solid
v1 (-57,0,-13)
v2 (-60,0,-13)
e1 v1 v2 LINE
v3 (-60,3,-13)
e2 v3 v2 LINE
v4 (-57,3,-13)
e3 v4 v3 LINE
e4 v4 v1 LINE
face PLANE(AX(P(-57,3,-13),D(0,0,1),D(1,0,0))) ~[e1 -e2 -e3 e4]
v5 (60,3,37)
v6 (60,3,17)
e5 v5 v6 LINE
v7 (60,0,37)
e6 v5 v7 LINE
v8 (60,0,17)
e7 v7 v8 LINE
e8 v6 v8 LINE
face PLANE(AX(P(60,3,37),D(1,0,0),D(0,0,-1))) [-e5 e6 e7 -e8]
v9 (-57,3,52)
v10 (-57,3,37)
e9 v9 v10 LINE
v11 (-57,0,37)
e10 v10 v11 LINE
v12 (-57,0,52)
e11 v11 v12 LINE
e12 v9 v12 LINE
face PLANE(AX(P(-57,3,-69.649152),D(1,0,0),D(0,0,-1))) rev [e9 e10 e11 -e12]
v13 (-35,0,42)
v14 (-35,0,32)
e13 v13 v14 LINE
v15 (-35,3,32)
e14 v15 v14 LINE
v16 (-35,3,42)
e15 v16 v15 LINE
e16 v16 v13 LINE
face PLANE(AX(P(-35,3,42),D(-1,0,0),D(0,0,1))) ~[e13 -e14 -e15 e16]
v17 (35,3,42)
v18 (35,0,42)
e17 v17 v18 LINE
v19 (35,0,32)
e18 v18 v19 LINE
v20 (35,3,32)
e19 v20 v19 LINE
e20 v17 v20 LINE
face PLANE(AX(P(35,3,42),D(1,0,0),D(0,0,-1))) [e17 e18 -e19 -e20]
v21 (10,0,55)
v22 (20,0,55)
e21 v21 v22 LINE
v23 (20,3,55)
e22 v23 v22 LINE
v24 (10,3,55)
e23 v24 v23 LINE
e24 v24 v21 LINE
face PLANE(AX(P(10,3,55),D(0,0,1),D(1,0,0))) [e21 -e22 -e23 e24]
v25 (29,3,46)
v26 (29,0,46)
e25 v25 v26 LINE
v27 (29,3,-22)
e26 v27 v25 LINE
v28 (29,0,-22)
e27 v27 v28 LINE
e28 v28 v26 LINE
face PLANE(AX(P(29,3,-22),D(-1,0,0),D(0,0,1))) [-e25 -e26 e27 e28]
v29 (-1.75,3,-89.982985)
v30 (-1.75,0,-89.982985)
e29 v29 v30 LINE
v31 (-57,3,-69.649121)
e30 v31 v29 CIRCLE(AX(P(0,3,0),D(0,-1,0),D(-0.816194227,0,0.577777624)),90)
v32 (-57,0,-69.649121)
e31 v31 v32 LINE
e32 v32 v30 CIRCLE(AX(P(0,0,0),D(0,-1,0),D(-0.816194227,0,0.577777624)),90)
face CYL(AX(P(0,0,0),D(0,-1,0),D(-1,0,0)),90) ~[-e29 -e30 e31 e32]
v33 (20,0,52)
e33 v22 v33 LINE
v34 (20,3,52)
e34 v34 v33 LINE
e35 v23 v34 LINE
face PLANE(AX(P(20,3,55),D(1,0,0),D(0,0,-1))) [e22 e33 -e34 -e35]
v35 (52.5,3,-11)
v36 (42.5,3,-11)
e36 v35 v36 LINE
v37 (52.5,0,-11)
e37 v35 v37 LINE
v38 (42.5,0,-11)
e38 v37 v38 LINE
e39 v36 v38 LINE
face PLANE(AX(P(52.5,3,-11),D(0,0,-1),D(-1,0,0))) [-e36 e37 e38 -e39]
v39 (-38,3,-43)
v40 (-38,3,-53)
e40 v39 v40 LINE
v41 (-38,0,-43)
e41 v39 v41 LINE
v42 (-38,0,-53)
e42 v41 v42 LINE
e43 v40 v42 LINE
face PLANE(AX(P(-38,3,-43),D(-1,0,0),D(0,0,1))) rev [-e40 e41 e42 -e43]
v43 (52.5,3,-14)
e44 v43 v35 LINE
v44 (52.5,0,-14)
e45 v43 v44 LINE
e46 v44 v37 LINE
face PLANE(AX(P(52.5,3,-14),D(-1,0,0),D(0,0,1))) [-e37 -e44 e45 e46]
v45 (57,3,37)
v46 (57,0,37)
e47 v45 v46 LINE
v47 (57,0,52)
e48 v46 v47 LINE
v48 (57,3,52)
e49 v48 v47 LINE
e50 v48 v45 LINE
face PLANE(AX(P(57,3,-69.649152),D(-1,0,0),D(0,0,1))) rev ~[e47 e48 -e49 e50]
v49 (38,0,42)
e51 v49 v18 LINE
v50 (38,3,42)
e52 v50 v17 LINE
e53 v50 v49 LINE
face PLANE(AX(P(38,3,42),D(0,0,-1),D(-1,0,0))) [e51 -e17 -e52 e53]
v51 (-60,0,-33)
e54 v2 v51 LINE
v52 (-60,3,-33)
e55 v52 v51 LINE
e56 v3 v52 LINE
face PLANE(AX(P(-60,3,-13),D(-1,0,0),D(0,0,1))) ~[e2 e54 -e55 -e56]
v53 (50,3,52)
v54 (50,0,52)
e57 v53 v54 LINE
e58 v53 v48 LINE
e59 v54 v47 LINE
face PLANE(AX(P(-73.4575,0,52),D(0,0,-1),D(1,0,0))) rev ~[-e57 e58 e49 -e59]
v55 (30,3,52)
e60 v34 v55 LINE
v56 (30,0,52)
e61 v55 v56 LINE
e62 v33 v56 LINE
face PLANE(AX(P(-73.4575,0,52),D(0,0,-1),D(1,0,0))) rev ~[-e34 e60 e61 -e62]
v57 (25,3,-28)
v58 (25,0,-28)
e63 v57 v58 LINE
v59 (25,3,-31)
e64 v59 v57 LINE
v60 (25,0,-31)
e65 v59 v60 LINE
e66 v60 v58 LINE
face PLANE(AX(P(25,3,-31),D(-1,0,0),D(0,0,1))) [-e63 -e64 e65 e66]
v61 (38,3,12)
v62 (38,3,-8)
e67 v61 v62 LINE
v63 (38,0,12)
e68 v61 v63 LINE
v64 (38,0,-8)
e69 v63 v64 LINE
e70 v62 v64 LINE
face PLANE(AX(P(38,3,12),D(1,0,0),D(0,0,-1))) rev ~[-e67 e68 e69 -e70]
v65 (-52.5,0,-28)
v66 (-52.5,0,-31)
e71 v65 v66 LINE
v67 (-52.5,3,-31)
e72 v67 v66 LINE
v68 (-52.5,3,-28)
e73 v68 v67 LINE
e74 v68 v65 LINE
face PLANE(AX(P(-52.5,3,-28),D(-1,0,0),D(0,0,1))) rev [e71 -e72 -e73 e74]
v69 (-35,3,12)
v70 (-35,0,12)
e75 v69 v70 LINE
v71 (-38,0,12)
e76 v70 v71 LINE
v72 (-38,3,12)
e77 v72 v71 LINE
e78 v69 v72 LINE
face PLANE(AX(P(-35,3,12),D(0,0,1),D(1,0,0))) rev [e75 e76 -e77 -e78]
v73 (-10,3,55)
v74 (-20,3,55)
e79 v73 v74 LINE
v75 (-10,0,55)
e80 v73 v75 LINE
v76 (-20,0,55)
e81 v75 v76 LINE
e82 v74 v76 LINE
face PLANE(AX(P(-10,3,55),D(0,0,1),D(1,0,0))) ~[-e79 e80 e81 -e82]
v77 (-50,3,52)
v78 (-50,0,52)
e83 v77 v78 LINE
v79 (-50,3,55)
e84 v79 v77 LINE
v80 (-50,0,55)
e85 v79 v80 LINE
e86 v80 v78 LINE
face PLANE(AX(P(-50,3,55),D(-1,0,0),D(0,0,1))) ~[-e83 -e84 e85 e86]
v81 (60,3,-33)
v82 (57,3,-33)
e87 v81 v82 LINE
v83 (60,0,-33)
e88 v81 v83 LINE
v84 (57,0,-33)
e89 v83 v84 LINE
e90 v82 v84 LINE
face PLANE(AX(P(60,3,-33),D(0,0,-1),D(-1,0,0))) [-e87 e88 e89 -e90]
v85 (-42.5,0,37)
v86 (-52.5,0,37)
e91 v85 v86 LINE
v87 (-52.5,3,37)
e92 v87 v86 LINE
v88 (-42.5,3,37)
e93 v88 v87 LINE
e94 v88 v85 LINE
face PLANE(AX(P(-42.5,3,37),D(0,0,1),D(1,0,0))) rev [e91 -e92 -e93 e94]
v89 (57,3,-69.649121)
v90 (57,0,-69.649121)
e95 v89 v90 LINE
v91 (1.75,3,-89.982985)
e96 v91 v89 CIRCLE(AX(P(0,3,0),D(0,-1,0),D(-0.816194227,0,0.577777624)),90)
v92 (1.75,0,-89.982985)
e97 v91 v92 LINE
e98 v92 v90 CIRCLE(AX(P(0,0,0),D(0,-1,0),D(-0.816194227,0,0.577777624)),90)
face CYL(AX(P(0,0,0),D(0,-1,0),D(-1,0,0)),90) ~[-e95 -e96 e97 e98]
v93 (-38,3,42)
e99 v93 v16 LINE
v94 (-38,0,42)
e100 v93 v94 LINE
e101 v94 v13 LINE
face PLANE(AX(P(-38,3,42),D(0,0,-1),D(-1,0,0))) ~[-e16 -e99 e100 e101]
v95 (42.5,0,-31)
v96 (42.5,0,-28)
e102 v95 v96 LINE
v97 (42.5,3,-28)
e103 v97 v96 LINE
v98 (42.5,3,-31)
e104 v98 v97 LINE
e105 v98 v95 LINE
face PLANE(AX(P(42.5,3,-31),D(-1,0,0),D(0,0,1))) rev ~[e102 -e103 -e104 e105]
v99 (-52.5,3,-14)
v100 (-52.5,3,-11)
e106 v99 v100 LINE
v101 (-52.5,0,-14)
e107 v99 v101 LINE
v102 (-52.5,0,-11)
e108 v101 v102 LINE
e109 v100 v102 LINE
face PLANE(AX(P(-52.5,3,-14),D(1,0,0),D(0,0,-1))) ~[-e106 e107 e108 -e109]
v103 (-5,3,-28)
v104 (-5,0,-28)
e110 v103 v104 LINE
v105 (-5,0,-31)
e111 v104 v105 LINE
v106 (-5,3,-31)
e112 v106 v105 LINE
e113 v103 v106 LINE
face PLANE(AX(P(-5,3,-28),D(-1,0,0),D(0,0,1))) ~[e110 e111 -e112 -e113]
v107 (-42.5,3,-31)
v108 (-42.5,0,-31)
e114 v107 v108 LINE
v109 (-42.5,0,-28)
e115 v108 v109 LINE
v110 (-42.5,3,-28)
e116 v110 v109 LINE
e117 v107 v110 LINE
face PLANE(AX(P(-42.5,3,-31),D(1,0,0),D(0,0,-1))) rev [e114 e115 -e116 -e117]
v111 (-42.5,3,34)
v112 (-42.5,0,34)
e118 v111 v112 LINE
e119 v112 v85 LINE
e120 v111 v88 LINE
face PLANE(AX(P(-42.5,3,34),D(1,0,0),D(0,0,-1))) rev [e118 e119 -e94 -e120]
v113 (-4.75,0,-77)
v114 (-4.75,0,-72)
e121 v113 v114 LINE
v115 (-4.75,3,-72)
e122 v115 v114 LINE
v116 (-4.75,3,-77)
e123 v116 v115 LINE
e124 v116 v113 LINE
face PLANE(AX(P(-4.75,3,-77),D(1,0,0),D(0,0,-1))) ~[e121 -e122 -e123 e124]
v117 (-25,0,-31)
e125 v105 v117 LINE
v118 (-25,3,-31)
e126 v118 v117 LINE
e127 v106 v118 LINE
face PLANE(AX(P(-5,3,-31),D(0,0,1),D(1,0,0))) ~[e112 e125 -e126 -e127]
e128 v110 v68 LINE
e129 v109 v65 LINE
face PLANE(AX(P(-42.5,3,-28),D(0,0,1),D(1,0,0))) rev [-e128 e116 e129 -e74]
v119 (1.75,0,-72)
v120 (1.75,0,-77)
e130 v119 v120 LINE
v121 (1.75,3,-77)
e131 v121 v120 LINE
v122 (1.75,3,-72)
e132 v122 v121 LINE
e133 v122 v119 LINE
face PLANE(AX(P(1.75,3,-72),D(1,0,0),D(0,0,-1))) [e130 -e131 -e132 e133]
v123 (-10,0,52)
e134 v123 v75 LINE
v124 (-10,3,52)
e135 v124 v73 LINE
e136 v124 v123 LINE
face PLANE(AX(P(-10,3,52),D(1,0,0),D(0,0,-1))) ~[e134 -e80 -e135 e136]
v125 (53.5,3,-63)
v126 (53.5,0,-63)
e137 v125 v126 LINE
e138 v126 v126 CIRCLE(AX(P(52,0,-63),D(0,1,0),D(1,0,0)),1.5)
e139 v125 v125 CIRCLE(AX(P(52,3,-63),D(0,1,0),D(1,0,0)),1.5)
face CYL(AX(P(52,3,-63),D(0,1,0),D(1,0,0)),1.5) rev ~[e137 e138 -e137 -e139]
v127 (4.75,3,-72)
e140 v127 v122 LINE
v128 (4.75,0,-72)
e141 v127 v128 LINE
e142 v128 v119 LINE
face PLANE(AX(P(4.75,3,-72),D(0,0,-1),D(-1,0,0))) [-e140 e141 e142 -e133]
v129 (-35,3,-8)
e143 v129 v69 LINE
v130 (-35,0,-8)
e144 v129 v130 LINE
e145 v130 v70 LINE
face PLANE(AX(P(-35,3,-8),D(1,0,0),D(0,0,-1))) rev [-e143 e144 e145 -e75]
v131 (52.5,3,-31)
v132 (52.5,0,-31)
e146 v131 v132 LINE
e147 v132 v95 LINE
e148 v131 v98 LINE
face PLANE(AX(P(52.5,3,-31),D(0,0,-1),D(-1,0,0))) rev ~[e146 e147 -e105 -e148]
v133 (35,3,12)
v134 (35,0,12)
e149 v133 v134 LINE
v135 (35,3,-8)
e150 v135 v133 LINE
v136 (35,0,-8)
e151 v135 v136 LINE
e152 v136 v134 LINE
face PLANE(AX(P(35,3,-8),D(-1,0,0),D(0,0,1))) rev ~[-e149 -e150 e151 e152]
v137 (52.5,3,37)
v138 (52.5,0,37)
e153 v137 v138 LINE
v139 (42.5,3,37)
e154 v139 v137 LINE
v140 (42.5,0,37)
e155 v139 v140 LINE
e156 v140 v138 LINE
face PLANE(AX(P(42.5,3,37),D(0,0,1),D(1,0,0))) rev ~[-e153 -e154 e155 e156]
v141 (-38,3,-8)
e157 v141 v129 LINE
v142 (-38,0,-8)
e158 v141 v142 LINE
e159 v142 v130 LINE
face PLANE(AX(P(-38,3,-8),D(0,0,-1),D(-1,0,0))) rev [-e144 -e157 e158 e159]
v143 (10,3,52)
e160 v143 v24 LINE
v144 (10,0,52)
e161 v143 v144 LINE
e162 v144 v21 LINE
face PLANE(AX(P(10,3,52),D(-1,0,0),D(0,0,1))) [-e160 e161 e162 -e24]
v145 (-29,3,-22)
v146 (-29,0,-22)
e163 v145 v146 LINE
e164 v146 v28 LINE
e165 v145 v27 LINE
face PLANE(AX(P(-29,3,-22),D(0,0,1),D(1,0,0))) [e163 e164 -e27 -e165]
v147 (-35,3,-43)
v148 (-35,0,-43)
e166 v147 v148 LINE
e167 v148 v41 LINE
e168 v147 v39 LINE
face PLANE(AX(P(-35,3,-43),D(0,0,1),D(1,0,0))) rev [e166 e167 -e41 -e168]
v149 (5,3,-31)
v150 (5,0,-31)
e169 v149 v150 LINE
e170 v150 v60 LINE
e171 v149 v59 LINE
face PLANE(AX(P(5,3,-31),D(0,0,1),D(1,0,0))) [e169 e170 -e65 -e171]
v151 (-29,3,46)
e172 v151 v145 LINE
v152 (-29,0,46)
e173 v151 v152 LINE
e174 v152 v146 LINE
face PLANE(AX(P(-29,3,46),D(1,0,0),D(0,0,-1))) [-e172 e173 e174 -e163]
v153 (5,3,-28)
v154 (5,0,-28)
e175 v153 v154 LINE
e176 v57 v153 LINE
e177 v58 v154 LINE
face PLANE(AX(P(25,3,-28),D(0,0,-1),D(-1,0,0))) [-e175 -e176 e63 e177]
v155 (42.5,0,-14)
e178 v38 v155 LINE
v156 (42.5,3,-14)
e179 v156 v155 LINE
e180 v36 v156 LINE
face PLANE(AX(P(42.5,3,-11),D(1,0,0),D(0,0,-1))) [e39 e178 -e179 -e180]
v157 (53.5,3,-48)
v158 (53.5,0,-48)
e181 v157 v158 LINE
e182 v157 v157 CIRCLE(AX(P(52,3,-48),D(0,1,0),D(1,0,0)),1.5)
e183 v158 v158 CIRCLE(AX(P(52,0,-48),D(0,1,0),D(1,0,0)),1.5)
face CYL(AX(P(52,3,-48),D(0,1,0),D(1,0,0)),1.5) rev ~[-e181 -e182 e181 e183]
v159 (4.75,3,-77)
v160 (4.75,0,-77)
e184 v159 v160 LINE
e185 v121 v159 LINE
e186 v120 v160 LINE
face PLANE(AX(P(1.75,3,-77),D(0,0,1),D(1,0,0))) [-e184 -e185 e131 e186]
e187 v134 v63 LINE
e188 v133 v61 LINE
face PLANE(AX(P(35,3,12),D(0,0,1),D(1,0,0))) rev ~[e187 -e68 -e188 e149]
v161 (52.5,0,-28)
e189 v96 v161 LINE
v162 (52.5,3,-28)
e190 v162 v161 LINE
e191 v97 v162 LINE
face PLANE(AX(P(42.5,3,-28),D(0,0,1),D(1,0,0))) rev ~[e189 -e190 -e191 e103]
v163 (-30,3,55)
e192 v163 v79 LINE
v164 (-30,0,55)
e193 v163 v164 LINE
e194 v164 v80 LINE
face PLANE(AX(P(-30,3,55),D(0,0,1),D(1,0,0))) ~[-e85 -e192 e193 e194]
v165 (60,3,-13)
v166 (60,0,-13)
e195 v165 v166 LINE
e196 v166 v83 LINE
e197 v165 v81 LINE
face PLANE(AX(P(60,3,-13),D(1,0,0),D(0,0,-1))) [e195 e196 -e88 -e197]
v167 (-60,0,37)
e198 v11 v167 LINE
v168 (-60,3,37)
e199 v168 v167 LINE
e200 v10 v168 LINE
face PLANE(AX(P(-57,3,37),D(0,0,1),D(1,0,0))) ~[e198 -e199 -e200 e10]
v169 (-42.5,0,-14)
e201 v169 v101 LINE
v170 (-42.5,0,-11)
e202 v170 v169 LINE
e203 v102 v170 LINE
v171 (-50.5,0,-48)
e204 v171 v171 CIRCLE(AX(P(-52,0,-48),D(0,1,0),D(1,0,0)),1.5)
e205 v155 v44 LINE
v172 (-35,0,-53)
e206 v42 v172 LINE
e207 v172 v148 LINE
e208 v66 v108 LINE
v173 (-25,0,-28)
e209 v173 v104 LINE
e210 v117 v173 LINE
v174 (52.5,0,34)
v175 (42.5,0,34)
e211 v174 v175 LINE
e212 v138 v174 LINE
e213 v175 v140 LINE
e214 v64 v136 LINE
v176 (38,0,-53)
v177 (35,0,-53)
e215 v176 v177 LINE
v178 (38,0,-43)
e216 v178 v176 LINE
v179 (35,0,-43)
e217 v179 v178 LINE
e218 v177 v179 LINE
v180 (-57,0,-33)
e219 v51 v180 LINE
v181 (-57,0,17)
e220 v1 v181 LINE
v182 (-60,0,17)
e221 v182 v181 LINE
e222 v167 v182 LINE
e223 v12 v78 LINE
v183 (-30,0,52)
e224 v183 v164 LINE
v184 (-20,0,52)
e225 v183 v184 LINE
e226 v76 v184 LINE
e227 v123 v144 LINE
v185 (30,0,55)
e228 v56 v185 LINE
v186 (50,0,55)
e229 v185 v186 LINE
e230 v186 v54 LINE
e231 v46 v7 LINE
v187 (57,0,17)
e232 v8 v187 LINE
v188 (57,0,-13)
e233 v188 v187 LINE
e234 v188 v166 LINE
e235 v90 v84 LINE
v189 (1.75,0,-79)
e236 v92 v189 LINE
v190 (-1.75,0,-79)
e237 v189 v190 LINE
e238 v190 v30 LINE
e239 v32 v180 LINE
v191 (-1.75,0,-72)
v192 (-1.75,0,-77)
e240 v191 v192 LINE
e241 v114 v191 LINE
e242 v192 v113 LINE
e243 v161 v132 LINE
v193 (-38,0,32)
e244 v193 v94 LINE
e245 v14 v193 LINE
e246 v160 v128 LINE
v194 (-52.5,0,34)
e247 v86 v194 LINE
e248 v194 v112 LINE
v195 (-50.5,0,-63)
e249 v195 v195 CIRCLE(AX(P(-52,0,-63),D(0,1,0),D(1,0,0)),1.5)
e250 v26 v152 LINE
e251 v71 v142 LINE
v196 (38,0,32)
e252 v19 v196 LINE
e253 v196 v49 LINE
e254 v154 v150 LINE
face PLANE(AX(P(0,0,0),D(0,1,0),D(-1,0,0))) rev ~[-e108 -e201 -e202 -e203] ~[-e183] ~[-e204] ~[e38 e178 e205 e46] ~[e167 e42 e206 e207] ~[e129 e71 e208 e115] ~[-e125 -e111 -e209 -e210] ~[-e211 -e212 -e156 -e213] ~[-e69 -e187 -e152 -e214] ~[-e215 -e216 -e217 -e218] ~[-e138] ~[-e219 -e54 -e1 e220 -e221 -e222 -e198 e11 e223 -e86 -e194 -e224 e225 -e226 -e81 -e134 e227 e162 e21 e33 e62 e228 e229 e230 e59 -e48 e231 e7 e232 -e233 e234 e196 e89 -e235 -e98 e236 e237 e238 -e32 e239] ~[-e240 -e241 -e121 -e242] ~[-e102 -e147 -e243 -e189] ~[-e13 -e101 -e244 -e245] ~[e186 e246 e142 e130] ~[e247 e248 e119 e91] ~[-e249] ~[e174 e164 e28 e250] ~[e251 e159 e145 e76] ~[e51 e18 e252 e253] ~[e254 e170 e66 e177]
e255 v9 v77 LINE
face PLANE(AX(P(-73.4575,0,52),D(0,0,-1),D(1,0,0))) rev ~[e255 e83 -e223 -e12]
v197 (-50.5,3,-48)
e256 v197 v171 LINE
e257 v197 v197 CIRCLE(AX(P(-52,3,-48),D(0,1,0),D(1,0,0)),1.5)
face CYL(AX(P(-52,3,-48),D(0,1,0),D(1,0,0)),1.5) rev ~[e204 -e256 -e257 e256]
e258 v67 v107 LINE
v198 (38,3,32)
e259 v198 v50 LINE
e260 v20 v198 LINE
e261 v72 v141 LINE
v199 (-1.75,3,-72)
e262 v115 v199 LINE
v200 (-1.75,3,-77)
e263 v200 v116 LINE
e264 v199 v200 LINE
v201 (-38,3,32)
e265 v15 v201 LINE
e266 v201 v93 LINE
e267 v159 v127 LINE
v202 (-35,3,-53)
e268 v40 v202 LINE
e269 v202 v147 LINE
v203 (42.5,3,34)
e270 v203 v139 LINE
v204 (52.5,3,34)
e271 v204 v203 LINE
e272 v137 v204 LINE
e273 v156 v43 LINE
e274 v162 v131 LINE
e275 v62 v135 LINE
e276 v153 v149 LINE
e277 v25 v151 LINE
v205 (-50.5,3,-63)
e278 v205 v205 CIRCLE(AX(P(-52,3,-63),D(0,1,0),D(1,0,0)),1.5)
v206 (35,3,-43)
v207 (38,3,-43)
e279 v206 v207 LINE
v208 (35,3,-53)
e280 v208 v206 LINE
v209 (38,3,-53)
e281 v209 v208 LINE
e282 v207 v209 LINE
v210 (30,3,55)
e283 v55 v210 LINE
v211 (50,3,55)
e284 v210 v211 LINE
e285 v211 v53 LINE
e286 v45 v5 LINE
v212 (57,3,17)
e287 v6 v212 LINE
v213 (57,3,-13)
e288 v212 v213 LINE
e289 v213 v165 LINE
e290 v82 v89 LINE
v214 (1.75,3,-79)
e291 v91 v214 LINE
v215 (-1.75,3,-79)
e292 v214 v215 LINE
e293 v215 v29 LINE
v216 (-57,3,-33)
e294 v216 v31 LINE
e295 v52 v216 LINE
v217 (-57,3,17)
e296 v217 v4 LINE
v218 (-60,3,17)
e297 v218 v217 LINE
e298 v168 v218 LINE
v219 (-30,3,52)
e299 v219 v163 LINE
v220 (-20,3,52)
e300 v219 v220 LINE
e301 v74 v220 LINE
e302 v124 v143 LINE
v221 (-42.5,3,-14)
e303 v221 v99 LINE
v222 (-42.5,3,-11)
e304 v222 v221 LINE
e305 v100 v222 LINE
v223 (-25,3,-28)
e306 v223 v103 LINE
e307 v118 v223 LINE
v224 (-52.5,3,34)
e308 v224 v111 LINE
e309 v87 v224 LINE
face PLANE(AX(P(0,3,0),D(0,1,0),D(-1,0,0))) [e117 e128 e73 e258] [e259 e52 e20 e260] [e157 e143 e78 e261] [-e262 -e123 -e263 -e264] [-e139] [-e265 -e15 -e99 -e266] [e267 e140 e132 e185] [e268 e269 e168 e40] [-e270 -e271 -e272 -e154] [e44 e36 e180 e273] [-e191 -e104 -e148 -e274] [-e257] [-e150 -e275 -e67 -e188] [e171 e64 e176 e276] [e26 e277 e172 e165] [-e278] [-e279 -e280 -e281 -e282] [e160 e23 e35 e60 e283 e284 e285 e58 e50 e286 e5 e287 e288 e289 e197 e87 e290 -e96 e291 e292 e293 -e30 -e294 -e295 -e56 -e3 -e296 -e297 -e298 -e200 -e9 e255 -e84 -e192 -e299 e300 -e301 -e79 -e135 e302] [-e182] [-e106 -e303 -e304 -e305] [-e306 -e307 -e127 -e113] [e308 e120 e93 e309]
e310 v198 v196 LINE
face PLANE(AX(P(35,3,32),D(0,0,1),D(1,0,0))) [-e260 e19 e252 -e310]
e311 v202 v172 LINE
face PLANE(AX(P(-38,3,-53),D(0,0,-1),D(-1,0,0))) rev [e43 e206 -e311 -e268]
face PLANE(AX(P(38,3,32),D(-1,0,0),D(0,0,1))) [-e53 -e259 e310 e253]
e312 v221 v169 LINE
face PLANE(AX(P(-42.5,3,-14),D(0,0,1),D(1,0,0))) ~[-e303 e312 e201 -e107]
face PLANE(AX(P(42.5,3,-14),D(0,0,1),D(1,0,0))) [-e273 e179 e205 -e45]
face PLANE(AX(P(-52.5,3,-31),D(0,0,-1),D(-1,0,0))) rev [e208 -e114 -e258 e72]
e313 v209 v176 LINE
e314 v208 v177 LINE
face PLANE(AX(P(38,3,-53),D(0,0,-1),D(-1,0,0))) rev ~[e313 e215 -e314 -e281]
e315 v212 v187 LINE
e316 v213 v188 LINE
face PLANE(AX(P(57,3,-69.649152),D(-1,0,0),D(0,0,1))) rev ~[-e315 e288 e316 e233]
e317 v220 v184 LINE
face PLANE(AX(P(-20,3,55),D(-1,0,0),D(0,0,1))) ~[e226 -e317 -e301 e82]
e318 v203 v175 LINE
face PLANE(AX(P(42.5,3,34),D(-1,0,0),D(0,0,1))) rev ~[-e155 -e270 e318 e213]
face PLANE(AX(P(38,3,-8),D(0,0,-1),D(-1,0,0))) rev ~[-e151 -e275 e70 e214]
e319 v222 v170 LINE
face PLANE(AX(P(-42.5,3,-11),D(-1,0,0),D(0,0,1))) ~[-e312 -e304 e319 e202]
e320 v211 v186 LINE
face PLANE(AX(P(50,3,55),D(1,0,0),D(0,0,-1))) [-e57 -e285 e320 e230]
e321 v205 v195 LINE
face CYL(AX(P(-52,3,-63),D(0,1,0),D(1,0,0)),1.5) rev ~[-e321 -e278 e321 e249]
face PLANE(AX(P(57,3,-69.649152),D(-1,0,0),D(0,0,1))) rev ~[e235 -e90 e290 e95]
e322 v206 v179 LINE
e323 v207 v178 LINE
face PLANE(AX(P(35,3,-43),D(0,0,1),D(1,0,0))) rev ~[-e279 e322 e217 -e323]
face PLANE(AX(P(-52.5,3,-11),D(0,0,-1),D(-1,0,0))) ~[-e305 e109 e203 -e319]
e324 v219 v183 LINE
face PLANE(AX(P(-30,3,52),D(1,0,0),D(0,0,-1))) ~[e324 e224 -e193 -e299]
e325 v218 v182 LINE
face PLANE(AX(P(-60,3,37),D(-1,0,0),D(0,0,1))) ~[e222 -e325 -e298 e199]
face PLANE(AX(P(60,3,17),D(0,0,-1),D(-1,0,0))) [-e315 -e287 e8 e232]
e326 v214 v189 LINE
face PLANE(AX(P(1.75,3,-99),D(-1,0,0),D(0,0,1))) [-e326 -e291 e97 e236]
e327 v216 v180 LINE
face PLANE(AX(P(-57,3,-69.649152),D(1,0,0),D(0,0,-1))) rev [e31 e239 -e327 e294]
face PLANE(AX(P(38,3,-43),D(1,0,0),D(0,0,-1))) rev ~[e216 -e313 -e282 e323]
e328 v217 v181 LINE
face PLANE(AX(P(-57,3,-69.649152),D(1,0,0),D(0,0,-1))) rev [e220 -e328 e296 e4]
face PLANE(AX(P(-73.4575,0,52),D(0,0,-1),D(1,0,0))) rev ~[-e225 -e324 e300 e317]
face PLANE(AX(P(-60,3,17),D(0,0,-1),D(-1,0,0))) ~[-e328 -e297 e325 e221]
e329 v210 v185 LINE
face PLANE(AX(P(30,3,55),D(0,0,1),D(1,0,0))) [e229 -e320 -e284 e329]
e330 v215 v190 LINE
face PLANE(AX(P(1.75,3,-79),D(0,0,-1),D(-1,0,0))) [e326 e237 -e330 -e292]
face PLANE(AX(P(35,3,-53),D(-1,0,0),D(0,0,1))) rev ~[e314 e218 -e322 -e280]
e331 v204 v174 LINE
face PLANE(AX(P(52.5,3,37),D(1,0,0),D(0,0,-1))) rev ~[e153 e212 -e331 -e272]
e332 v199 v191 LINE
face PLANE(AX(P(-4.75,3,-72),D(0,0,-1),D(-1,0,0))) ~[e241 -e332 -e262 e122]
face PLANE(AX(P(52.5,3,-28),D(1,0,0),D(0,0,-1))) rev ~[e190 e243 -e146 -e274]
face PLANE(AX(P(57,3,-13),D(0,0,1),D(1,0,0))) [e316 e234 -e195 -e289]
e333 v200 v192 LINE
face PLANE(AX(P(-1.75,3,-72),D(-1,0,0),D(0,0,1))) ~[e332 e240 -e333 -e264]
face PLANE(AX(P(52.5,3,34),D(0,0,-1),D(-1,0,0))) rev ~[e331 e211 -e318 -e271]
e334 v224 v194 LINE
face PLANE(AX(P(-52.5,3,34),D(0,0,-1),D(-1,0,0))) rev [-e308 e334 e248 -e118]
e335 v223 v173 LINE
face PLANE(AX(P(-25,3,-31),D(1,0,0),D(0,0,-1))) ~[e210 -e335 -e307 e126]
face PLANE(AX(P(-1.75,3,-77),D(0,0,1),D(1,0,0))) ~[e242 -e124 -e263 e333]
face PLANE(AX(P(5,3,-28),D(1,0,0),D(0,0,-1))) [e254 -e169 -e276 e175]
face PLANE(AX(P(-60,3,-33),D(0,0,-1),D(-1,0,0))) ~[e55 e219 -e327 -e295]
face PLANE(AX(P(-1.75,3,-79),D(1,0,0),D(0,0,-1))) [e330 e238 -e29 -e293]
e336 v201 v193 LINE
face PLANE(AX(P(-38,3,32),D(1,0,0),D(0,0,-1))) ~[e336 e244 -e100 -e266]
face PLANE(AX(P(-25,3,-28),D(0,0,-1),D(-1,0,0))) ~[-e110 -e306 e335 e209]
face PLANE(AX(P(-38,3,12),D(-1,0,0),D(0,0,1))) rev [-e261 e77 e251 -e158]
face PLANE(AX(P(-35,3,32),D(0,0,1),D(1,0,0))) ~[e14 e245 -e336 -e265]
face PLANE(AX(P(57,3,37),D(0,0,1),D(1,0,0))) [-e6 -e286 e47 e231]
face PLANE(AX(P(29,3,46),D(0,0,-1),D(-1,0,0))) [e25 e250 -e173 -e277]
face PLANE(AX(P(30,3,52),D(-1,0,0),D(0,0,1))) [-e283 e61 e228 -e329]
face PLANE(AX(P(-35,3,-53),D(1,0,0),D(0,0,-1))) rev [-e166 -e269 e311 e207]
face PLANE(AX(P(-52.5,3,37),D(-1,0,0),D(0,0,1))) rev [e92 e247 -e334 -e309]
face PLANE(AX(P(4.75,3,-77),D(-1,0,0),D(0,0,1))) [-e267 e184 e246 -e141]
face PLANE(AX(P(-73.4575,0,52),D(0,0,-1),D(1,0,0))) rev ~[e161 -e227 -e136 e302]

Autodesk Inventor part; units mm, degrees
ref_plane "YZ Plane" through (0, 0, 0) normal (1, 0, 0) x (0, 1, 0)
ref_plane "XZ Plane" through (0, 0, 0) normal (0, 1, 0) x (-1, 0, 0)
ref_plane "XY Plane" through (0, 0, 0) normal (0, 0, 1) x (1, 0, 0)
sketch "Sketch1" plane through (0, 0, 0) normal (0, 1, 0) x (-1, 0, 0)
  circle A0 centre (0, 0) radius 90
  line L0 (73.4575, 52) -> (-73.4575, 52)
  dimension "d0" = 180
  dimension "d1" = 52
extrude "Extrusion1" add sketch "Sketch1" along normal blind 3 contours A0 L0 picked at (17.1608, -0.9679)
sketch "Sketch2" plane through (0, 3, 0) normal (0, 1, 0) x (1, 0, 0)
  line L0 (-73.4575, -52) -> (73.4575, -52) projected
  line L1 (57, -52) -> (90, -52)
  line L2 (90, -52) -> (90, 90)
  line L3 (90, 90) -> (57, 90)
  line L4 (57, 90) -> (57, -52)
  arc A0 (73.4575, -52) -> (-73.4575, -52) centre (0, 0) ccw projected
  dimension "d4" = 57
extrude "Extrusion2" cut sketch "Sketch2" against normal blind 3 contours L4 A0 L0 | L4 L3 L2 A0 | A0 L2 L1 picked at (60.2055, 26.0552)
sketch "Sketch3" plane through (0, 3, 0) normal (0, 1, 0) x (1, 0, 0)
  line L0 (29, -46) -> (-29, -46)
  line L1 (-29, -46) -> (-29, 22)
  line L2 (-29, 22) -> (29, 22)
  line L3 (29, 22) -> (29, -46)
  line L4 (-73.4575, -52) -> (57, -52) projected
  point P0 (0, 0)
  dimension "d7" = 6
  dimension "d8" = 74
  dimension "d9" = 29
  dimension "d10" = 29
extrude "Extrusion3" cut sketch "Sketch3" against normal blind 3
mirror "Mirror1" about plane through (0, 0, 0) normal (1, 0, 0) of "Extrusion2"
sketch "Sketch4" plane through (0, 3, 0) normal (0, 1, 0) x (1, 0, 0)
  line L0 (57, 69.6491) -> (57, -52) projected
  line L1 (57, -37) -> (60, -37)
  line L2 (60, -37) -> (60, -17)
  line L3 (60, -17) -> (57, -17)
  line L4 (57, -17) -> (57, -37)
  line L5 (-57, -52) -> (57, -52) projected
  line L6 (57, 13) -> (60, 13)
  line L7 (60, 13) -> (60, 33)
  line L8 (60, 33) -> (57, 33)
  line L9 (57, 33) -> (57, 13)
  point P0 (0, 0)
  dimension "d13" = 3
  dimension "d14" = 20
  dimension "d15" = 15
  dimension "d16" = 3
  dimension "d17" = 20
  dimension "d18" = 30
extrude "Extrusion4" add sketch "Sketch4" against normal blind 3
sketch "Sketch5" plane through (0, 3, 0) normal (0, 1, 0) x (1, 0, 0)
  line L0 (38, 53) -> (35, 53)
  line L1 (35, 53) -> (35, 43)
  line L2 (35, 43) -> (38, 43)
  line L3 (38, 43) -> (38, 53)
  line L4 (38, -42) -> (35, -42)
  line L5 (35, -42) -> (35, -32)
  line L6 (35, -32) -> (38, -32)
  line L7 (38, -32) -> (38, -42)
  line L8 (38, 8) -> (35, 8)
  line L9 (35, 8) -> (35, -12)
  line L10 (35, -12) -> (38, -12)
  line L11 (38, -12) -> (38, 8)
  line L12 (-57, -52) -> (57, -52) projected
  point P0 (0, 0)
  dimension "d21" = 3
  dimension "d22" = 10
  dimension "d23" = 3
  dimension "d24" = 10
  dimension "d25" = 3
  dimension "d26" = 20
  dimension "d27" = 10
  dimension "d28" = 20
  dimension "d29" = 35
  dimension "d30" = 35
extrude "Extrusion5" cut sketch "Sketch5" against normal blind 3
sketch "Sketch6" plane through (0, 3, 0) normal (0, 1, 0) x (1, 0, 0)
  line L0 (52.5, 31) -> (42.5, 31)
  line L1 (42.5, 31) -> (42.5, 28)
  line L2 (42.5, 28) -> (52.5, 28)
  line L3 (52.5, 28) -> (52.5, 31)
  line L4 (5, 31) -> (25, 31)
  line L5 (25, 31) -> (25, 28)
  line L6 (25, 28) -> (5, 28)
  line L7 (5, 28) -> (5, 31)
  line L8 (-57, -52) -> (57, -52) projected
  point P0 (0, 0)
  dimension "d33" = 10
  dimension "d34" = 3
  dimension "d35" = 20
  dimension "d36" = 3
  dimension "d37" = 5
  dimension "d38" = 17.5
  dimension "d39" = 80
extrude "Extrusion6" cut sketch "Sketch6" against normal blind 3
mirror "Mirror2" about plane through (0, 0, 0) normal (1, 0, 0) of "Extrusion4", "Extrusion5", "Extrusion6"
sketch "Sketch7" plane through (0, 3, 0) normal (0, 1, 0) x (1, 0, 0)
  line L0 (-1.75, 99) -> (1.75, 99)
  line L1 (1.75, 99) -> (1.75, 79)
  line L2 (1.75, 79) -> (-1.75, 79)
  line L3 (-1.75, 79) -> (-1.75, 99)
  point P0 (0, 0)
  point P1 (0, 79)
  dimension "d42" = 3.5
  dimension "d43" = 20
  dimension "d44" = 79
extrude "Extrusion7" cut sketch "Sketch7" against normal blind 3
sketch "Sketch8" plane through (0, 3, 0) normal (0, 1, 0) x (1, 0, 0)
  line L0 (42.5, 14) -> (52.5, 14)
  line L1 (52.5, 14) -> (52.5, 11)
  line L2 (52.5, 11) -> (42.5, 11)
  line L3 (42.5, 11) -> (42.5, 14)
  line L4 (42.5, 28) -> (42.5, 31) projected
  line L5 (42.5, -37) -> (52.5, -37)
  line L6 (52.5, -37) -> (52.5, -34)
  line L7 (52.5, -34) -> (42.5, -34)
  line L8 (42.5, -34) -> (42.5, -37)
  line L9 (-57, -52) -> (57, -52) projected
  point P0 (0, 0)
  dimension "d47" = 10
  dimension "d48" = 3
  dimension "d49" = 10
  dimension "d50" = 3
  dimension "d51" = 45
  dimension "d52" = 15
extrude "Extrusion8" cut sketch "Sketch8" against normal blind 3
sketch "Sketch9" plane through (0, 3, 0) normal (0, 1, 0) x (1, 0, 0)
  line L0 (-57, -52) -> (57, -52) projected
  line L1 (50, -52) -> (30, -52)
  line L2 (30, -52) -> (30, -55)
  line L3 (30, -55) -> (50, -55)
  line L4 (50, -55) -> (50, -52)
  line L5 (20, -52) -> (10, -52)
  line L6 (10, -52) -> (10, -55)
  line L7 (10, -55) -> (20, -55)
  line L8 (20, -55) -> (20, -52)
  point P0 (0, 0)
  dimension "d55" = 20
  dimension "d56" = 3
  dimension "d57" = 10
  dimension "d58" = 3
  dimension "d59" = 10
  dimension "d60" = 10
extrude "Extrusion9" add sketch "Sketch9" against normal blind 3
sketch "Sketch10" plane through (0, 3, 0) normal (0, 1, 0) x (1, 0, 0)
  line L0 (1.75, 77) -> (4.75, 77)
  line L1 (4.75, 77) -> (4.75, 72)
  line L2 (4.75, 72) -> (1.75, 72)
  line L3 (1.75, 72) -> (1.75, 77)
  line L4 (1.75, 79) -> (-1.75, 79) projected
  line L5 (1.75, 89.983) -> (1.75, 79) projected
  point P0 (0, 0)
  dimension "d63" = 3
  dimension "d64" = 5
  dimension "d65" = 2
extrude "Extrusion10" cut sketch "Sketch10" against normal blind 3
mirror "Mirror3" about plane through (0, 0, 0) normal (1, 0, 0) of "Extrusion9", "Extrusion8", "Extrusion10"
sketch "Sketch11" plane through (0, 3, 0) normal (0, 1, 0) x (1, 0, 0)
  circle A0 centre (52, 48) radius 1.5
  circle A1 centre (52, 63) radius 1.5
  line L0 (57, 33) -> (57, 69.6491) projected
  line L1 (60, 33) -> (57, 33) projected
  circle A2 centre (-52, 48) radius 1.5
  circle A3 centre (-52, 63) radius 1.5
  line L2 (-57, 69.6491) -> (-57, 33) projected
  point P0 (0, 0)
  dimension "d68" = 3
  dimension "d69" = 3
  dimension "d70" = 5
  dimension "d71" = 15
  dimension "d72" = 15
  dimension "d73" = 3
  dimension "d74" = 3
  dimension "d75" = 5
extrude "Extrusion11" cut sketch "Sketch11" against normal blind 3
equation "\"d10\" = d9"
properties part number "Mid Plate"
